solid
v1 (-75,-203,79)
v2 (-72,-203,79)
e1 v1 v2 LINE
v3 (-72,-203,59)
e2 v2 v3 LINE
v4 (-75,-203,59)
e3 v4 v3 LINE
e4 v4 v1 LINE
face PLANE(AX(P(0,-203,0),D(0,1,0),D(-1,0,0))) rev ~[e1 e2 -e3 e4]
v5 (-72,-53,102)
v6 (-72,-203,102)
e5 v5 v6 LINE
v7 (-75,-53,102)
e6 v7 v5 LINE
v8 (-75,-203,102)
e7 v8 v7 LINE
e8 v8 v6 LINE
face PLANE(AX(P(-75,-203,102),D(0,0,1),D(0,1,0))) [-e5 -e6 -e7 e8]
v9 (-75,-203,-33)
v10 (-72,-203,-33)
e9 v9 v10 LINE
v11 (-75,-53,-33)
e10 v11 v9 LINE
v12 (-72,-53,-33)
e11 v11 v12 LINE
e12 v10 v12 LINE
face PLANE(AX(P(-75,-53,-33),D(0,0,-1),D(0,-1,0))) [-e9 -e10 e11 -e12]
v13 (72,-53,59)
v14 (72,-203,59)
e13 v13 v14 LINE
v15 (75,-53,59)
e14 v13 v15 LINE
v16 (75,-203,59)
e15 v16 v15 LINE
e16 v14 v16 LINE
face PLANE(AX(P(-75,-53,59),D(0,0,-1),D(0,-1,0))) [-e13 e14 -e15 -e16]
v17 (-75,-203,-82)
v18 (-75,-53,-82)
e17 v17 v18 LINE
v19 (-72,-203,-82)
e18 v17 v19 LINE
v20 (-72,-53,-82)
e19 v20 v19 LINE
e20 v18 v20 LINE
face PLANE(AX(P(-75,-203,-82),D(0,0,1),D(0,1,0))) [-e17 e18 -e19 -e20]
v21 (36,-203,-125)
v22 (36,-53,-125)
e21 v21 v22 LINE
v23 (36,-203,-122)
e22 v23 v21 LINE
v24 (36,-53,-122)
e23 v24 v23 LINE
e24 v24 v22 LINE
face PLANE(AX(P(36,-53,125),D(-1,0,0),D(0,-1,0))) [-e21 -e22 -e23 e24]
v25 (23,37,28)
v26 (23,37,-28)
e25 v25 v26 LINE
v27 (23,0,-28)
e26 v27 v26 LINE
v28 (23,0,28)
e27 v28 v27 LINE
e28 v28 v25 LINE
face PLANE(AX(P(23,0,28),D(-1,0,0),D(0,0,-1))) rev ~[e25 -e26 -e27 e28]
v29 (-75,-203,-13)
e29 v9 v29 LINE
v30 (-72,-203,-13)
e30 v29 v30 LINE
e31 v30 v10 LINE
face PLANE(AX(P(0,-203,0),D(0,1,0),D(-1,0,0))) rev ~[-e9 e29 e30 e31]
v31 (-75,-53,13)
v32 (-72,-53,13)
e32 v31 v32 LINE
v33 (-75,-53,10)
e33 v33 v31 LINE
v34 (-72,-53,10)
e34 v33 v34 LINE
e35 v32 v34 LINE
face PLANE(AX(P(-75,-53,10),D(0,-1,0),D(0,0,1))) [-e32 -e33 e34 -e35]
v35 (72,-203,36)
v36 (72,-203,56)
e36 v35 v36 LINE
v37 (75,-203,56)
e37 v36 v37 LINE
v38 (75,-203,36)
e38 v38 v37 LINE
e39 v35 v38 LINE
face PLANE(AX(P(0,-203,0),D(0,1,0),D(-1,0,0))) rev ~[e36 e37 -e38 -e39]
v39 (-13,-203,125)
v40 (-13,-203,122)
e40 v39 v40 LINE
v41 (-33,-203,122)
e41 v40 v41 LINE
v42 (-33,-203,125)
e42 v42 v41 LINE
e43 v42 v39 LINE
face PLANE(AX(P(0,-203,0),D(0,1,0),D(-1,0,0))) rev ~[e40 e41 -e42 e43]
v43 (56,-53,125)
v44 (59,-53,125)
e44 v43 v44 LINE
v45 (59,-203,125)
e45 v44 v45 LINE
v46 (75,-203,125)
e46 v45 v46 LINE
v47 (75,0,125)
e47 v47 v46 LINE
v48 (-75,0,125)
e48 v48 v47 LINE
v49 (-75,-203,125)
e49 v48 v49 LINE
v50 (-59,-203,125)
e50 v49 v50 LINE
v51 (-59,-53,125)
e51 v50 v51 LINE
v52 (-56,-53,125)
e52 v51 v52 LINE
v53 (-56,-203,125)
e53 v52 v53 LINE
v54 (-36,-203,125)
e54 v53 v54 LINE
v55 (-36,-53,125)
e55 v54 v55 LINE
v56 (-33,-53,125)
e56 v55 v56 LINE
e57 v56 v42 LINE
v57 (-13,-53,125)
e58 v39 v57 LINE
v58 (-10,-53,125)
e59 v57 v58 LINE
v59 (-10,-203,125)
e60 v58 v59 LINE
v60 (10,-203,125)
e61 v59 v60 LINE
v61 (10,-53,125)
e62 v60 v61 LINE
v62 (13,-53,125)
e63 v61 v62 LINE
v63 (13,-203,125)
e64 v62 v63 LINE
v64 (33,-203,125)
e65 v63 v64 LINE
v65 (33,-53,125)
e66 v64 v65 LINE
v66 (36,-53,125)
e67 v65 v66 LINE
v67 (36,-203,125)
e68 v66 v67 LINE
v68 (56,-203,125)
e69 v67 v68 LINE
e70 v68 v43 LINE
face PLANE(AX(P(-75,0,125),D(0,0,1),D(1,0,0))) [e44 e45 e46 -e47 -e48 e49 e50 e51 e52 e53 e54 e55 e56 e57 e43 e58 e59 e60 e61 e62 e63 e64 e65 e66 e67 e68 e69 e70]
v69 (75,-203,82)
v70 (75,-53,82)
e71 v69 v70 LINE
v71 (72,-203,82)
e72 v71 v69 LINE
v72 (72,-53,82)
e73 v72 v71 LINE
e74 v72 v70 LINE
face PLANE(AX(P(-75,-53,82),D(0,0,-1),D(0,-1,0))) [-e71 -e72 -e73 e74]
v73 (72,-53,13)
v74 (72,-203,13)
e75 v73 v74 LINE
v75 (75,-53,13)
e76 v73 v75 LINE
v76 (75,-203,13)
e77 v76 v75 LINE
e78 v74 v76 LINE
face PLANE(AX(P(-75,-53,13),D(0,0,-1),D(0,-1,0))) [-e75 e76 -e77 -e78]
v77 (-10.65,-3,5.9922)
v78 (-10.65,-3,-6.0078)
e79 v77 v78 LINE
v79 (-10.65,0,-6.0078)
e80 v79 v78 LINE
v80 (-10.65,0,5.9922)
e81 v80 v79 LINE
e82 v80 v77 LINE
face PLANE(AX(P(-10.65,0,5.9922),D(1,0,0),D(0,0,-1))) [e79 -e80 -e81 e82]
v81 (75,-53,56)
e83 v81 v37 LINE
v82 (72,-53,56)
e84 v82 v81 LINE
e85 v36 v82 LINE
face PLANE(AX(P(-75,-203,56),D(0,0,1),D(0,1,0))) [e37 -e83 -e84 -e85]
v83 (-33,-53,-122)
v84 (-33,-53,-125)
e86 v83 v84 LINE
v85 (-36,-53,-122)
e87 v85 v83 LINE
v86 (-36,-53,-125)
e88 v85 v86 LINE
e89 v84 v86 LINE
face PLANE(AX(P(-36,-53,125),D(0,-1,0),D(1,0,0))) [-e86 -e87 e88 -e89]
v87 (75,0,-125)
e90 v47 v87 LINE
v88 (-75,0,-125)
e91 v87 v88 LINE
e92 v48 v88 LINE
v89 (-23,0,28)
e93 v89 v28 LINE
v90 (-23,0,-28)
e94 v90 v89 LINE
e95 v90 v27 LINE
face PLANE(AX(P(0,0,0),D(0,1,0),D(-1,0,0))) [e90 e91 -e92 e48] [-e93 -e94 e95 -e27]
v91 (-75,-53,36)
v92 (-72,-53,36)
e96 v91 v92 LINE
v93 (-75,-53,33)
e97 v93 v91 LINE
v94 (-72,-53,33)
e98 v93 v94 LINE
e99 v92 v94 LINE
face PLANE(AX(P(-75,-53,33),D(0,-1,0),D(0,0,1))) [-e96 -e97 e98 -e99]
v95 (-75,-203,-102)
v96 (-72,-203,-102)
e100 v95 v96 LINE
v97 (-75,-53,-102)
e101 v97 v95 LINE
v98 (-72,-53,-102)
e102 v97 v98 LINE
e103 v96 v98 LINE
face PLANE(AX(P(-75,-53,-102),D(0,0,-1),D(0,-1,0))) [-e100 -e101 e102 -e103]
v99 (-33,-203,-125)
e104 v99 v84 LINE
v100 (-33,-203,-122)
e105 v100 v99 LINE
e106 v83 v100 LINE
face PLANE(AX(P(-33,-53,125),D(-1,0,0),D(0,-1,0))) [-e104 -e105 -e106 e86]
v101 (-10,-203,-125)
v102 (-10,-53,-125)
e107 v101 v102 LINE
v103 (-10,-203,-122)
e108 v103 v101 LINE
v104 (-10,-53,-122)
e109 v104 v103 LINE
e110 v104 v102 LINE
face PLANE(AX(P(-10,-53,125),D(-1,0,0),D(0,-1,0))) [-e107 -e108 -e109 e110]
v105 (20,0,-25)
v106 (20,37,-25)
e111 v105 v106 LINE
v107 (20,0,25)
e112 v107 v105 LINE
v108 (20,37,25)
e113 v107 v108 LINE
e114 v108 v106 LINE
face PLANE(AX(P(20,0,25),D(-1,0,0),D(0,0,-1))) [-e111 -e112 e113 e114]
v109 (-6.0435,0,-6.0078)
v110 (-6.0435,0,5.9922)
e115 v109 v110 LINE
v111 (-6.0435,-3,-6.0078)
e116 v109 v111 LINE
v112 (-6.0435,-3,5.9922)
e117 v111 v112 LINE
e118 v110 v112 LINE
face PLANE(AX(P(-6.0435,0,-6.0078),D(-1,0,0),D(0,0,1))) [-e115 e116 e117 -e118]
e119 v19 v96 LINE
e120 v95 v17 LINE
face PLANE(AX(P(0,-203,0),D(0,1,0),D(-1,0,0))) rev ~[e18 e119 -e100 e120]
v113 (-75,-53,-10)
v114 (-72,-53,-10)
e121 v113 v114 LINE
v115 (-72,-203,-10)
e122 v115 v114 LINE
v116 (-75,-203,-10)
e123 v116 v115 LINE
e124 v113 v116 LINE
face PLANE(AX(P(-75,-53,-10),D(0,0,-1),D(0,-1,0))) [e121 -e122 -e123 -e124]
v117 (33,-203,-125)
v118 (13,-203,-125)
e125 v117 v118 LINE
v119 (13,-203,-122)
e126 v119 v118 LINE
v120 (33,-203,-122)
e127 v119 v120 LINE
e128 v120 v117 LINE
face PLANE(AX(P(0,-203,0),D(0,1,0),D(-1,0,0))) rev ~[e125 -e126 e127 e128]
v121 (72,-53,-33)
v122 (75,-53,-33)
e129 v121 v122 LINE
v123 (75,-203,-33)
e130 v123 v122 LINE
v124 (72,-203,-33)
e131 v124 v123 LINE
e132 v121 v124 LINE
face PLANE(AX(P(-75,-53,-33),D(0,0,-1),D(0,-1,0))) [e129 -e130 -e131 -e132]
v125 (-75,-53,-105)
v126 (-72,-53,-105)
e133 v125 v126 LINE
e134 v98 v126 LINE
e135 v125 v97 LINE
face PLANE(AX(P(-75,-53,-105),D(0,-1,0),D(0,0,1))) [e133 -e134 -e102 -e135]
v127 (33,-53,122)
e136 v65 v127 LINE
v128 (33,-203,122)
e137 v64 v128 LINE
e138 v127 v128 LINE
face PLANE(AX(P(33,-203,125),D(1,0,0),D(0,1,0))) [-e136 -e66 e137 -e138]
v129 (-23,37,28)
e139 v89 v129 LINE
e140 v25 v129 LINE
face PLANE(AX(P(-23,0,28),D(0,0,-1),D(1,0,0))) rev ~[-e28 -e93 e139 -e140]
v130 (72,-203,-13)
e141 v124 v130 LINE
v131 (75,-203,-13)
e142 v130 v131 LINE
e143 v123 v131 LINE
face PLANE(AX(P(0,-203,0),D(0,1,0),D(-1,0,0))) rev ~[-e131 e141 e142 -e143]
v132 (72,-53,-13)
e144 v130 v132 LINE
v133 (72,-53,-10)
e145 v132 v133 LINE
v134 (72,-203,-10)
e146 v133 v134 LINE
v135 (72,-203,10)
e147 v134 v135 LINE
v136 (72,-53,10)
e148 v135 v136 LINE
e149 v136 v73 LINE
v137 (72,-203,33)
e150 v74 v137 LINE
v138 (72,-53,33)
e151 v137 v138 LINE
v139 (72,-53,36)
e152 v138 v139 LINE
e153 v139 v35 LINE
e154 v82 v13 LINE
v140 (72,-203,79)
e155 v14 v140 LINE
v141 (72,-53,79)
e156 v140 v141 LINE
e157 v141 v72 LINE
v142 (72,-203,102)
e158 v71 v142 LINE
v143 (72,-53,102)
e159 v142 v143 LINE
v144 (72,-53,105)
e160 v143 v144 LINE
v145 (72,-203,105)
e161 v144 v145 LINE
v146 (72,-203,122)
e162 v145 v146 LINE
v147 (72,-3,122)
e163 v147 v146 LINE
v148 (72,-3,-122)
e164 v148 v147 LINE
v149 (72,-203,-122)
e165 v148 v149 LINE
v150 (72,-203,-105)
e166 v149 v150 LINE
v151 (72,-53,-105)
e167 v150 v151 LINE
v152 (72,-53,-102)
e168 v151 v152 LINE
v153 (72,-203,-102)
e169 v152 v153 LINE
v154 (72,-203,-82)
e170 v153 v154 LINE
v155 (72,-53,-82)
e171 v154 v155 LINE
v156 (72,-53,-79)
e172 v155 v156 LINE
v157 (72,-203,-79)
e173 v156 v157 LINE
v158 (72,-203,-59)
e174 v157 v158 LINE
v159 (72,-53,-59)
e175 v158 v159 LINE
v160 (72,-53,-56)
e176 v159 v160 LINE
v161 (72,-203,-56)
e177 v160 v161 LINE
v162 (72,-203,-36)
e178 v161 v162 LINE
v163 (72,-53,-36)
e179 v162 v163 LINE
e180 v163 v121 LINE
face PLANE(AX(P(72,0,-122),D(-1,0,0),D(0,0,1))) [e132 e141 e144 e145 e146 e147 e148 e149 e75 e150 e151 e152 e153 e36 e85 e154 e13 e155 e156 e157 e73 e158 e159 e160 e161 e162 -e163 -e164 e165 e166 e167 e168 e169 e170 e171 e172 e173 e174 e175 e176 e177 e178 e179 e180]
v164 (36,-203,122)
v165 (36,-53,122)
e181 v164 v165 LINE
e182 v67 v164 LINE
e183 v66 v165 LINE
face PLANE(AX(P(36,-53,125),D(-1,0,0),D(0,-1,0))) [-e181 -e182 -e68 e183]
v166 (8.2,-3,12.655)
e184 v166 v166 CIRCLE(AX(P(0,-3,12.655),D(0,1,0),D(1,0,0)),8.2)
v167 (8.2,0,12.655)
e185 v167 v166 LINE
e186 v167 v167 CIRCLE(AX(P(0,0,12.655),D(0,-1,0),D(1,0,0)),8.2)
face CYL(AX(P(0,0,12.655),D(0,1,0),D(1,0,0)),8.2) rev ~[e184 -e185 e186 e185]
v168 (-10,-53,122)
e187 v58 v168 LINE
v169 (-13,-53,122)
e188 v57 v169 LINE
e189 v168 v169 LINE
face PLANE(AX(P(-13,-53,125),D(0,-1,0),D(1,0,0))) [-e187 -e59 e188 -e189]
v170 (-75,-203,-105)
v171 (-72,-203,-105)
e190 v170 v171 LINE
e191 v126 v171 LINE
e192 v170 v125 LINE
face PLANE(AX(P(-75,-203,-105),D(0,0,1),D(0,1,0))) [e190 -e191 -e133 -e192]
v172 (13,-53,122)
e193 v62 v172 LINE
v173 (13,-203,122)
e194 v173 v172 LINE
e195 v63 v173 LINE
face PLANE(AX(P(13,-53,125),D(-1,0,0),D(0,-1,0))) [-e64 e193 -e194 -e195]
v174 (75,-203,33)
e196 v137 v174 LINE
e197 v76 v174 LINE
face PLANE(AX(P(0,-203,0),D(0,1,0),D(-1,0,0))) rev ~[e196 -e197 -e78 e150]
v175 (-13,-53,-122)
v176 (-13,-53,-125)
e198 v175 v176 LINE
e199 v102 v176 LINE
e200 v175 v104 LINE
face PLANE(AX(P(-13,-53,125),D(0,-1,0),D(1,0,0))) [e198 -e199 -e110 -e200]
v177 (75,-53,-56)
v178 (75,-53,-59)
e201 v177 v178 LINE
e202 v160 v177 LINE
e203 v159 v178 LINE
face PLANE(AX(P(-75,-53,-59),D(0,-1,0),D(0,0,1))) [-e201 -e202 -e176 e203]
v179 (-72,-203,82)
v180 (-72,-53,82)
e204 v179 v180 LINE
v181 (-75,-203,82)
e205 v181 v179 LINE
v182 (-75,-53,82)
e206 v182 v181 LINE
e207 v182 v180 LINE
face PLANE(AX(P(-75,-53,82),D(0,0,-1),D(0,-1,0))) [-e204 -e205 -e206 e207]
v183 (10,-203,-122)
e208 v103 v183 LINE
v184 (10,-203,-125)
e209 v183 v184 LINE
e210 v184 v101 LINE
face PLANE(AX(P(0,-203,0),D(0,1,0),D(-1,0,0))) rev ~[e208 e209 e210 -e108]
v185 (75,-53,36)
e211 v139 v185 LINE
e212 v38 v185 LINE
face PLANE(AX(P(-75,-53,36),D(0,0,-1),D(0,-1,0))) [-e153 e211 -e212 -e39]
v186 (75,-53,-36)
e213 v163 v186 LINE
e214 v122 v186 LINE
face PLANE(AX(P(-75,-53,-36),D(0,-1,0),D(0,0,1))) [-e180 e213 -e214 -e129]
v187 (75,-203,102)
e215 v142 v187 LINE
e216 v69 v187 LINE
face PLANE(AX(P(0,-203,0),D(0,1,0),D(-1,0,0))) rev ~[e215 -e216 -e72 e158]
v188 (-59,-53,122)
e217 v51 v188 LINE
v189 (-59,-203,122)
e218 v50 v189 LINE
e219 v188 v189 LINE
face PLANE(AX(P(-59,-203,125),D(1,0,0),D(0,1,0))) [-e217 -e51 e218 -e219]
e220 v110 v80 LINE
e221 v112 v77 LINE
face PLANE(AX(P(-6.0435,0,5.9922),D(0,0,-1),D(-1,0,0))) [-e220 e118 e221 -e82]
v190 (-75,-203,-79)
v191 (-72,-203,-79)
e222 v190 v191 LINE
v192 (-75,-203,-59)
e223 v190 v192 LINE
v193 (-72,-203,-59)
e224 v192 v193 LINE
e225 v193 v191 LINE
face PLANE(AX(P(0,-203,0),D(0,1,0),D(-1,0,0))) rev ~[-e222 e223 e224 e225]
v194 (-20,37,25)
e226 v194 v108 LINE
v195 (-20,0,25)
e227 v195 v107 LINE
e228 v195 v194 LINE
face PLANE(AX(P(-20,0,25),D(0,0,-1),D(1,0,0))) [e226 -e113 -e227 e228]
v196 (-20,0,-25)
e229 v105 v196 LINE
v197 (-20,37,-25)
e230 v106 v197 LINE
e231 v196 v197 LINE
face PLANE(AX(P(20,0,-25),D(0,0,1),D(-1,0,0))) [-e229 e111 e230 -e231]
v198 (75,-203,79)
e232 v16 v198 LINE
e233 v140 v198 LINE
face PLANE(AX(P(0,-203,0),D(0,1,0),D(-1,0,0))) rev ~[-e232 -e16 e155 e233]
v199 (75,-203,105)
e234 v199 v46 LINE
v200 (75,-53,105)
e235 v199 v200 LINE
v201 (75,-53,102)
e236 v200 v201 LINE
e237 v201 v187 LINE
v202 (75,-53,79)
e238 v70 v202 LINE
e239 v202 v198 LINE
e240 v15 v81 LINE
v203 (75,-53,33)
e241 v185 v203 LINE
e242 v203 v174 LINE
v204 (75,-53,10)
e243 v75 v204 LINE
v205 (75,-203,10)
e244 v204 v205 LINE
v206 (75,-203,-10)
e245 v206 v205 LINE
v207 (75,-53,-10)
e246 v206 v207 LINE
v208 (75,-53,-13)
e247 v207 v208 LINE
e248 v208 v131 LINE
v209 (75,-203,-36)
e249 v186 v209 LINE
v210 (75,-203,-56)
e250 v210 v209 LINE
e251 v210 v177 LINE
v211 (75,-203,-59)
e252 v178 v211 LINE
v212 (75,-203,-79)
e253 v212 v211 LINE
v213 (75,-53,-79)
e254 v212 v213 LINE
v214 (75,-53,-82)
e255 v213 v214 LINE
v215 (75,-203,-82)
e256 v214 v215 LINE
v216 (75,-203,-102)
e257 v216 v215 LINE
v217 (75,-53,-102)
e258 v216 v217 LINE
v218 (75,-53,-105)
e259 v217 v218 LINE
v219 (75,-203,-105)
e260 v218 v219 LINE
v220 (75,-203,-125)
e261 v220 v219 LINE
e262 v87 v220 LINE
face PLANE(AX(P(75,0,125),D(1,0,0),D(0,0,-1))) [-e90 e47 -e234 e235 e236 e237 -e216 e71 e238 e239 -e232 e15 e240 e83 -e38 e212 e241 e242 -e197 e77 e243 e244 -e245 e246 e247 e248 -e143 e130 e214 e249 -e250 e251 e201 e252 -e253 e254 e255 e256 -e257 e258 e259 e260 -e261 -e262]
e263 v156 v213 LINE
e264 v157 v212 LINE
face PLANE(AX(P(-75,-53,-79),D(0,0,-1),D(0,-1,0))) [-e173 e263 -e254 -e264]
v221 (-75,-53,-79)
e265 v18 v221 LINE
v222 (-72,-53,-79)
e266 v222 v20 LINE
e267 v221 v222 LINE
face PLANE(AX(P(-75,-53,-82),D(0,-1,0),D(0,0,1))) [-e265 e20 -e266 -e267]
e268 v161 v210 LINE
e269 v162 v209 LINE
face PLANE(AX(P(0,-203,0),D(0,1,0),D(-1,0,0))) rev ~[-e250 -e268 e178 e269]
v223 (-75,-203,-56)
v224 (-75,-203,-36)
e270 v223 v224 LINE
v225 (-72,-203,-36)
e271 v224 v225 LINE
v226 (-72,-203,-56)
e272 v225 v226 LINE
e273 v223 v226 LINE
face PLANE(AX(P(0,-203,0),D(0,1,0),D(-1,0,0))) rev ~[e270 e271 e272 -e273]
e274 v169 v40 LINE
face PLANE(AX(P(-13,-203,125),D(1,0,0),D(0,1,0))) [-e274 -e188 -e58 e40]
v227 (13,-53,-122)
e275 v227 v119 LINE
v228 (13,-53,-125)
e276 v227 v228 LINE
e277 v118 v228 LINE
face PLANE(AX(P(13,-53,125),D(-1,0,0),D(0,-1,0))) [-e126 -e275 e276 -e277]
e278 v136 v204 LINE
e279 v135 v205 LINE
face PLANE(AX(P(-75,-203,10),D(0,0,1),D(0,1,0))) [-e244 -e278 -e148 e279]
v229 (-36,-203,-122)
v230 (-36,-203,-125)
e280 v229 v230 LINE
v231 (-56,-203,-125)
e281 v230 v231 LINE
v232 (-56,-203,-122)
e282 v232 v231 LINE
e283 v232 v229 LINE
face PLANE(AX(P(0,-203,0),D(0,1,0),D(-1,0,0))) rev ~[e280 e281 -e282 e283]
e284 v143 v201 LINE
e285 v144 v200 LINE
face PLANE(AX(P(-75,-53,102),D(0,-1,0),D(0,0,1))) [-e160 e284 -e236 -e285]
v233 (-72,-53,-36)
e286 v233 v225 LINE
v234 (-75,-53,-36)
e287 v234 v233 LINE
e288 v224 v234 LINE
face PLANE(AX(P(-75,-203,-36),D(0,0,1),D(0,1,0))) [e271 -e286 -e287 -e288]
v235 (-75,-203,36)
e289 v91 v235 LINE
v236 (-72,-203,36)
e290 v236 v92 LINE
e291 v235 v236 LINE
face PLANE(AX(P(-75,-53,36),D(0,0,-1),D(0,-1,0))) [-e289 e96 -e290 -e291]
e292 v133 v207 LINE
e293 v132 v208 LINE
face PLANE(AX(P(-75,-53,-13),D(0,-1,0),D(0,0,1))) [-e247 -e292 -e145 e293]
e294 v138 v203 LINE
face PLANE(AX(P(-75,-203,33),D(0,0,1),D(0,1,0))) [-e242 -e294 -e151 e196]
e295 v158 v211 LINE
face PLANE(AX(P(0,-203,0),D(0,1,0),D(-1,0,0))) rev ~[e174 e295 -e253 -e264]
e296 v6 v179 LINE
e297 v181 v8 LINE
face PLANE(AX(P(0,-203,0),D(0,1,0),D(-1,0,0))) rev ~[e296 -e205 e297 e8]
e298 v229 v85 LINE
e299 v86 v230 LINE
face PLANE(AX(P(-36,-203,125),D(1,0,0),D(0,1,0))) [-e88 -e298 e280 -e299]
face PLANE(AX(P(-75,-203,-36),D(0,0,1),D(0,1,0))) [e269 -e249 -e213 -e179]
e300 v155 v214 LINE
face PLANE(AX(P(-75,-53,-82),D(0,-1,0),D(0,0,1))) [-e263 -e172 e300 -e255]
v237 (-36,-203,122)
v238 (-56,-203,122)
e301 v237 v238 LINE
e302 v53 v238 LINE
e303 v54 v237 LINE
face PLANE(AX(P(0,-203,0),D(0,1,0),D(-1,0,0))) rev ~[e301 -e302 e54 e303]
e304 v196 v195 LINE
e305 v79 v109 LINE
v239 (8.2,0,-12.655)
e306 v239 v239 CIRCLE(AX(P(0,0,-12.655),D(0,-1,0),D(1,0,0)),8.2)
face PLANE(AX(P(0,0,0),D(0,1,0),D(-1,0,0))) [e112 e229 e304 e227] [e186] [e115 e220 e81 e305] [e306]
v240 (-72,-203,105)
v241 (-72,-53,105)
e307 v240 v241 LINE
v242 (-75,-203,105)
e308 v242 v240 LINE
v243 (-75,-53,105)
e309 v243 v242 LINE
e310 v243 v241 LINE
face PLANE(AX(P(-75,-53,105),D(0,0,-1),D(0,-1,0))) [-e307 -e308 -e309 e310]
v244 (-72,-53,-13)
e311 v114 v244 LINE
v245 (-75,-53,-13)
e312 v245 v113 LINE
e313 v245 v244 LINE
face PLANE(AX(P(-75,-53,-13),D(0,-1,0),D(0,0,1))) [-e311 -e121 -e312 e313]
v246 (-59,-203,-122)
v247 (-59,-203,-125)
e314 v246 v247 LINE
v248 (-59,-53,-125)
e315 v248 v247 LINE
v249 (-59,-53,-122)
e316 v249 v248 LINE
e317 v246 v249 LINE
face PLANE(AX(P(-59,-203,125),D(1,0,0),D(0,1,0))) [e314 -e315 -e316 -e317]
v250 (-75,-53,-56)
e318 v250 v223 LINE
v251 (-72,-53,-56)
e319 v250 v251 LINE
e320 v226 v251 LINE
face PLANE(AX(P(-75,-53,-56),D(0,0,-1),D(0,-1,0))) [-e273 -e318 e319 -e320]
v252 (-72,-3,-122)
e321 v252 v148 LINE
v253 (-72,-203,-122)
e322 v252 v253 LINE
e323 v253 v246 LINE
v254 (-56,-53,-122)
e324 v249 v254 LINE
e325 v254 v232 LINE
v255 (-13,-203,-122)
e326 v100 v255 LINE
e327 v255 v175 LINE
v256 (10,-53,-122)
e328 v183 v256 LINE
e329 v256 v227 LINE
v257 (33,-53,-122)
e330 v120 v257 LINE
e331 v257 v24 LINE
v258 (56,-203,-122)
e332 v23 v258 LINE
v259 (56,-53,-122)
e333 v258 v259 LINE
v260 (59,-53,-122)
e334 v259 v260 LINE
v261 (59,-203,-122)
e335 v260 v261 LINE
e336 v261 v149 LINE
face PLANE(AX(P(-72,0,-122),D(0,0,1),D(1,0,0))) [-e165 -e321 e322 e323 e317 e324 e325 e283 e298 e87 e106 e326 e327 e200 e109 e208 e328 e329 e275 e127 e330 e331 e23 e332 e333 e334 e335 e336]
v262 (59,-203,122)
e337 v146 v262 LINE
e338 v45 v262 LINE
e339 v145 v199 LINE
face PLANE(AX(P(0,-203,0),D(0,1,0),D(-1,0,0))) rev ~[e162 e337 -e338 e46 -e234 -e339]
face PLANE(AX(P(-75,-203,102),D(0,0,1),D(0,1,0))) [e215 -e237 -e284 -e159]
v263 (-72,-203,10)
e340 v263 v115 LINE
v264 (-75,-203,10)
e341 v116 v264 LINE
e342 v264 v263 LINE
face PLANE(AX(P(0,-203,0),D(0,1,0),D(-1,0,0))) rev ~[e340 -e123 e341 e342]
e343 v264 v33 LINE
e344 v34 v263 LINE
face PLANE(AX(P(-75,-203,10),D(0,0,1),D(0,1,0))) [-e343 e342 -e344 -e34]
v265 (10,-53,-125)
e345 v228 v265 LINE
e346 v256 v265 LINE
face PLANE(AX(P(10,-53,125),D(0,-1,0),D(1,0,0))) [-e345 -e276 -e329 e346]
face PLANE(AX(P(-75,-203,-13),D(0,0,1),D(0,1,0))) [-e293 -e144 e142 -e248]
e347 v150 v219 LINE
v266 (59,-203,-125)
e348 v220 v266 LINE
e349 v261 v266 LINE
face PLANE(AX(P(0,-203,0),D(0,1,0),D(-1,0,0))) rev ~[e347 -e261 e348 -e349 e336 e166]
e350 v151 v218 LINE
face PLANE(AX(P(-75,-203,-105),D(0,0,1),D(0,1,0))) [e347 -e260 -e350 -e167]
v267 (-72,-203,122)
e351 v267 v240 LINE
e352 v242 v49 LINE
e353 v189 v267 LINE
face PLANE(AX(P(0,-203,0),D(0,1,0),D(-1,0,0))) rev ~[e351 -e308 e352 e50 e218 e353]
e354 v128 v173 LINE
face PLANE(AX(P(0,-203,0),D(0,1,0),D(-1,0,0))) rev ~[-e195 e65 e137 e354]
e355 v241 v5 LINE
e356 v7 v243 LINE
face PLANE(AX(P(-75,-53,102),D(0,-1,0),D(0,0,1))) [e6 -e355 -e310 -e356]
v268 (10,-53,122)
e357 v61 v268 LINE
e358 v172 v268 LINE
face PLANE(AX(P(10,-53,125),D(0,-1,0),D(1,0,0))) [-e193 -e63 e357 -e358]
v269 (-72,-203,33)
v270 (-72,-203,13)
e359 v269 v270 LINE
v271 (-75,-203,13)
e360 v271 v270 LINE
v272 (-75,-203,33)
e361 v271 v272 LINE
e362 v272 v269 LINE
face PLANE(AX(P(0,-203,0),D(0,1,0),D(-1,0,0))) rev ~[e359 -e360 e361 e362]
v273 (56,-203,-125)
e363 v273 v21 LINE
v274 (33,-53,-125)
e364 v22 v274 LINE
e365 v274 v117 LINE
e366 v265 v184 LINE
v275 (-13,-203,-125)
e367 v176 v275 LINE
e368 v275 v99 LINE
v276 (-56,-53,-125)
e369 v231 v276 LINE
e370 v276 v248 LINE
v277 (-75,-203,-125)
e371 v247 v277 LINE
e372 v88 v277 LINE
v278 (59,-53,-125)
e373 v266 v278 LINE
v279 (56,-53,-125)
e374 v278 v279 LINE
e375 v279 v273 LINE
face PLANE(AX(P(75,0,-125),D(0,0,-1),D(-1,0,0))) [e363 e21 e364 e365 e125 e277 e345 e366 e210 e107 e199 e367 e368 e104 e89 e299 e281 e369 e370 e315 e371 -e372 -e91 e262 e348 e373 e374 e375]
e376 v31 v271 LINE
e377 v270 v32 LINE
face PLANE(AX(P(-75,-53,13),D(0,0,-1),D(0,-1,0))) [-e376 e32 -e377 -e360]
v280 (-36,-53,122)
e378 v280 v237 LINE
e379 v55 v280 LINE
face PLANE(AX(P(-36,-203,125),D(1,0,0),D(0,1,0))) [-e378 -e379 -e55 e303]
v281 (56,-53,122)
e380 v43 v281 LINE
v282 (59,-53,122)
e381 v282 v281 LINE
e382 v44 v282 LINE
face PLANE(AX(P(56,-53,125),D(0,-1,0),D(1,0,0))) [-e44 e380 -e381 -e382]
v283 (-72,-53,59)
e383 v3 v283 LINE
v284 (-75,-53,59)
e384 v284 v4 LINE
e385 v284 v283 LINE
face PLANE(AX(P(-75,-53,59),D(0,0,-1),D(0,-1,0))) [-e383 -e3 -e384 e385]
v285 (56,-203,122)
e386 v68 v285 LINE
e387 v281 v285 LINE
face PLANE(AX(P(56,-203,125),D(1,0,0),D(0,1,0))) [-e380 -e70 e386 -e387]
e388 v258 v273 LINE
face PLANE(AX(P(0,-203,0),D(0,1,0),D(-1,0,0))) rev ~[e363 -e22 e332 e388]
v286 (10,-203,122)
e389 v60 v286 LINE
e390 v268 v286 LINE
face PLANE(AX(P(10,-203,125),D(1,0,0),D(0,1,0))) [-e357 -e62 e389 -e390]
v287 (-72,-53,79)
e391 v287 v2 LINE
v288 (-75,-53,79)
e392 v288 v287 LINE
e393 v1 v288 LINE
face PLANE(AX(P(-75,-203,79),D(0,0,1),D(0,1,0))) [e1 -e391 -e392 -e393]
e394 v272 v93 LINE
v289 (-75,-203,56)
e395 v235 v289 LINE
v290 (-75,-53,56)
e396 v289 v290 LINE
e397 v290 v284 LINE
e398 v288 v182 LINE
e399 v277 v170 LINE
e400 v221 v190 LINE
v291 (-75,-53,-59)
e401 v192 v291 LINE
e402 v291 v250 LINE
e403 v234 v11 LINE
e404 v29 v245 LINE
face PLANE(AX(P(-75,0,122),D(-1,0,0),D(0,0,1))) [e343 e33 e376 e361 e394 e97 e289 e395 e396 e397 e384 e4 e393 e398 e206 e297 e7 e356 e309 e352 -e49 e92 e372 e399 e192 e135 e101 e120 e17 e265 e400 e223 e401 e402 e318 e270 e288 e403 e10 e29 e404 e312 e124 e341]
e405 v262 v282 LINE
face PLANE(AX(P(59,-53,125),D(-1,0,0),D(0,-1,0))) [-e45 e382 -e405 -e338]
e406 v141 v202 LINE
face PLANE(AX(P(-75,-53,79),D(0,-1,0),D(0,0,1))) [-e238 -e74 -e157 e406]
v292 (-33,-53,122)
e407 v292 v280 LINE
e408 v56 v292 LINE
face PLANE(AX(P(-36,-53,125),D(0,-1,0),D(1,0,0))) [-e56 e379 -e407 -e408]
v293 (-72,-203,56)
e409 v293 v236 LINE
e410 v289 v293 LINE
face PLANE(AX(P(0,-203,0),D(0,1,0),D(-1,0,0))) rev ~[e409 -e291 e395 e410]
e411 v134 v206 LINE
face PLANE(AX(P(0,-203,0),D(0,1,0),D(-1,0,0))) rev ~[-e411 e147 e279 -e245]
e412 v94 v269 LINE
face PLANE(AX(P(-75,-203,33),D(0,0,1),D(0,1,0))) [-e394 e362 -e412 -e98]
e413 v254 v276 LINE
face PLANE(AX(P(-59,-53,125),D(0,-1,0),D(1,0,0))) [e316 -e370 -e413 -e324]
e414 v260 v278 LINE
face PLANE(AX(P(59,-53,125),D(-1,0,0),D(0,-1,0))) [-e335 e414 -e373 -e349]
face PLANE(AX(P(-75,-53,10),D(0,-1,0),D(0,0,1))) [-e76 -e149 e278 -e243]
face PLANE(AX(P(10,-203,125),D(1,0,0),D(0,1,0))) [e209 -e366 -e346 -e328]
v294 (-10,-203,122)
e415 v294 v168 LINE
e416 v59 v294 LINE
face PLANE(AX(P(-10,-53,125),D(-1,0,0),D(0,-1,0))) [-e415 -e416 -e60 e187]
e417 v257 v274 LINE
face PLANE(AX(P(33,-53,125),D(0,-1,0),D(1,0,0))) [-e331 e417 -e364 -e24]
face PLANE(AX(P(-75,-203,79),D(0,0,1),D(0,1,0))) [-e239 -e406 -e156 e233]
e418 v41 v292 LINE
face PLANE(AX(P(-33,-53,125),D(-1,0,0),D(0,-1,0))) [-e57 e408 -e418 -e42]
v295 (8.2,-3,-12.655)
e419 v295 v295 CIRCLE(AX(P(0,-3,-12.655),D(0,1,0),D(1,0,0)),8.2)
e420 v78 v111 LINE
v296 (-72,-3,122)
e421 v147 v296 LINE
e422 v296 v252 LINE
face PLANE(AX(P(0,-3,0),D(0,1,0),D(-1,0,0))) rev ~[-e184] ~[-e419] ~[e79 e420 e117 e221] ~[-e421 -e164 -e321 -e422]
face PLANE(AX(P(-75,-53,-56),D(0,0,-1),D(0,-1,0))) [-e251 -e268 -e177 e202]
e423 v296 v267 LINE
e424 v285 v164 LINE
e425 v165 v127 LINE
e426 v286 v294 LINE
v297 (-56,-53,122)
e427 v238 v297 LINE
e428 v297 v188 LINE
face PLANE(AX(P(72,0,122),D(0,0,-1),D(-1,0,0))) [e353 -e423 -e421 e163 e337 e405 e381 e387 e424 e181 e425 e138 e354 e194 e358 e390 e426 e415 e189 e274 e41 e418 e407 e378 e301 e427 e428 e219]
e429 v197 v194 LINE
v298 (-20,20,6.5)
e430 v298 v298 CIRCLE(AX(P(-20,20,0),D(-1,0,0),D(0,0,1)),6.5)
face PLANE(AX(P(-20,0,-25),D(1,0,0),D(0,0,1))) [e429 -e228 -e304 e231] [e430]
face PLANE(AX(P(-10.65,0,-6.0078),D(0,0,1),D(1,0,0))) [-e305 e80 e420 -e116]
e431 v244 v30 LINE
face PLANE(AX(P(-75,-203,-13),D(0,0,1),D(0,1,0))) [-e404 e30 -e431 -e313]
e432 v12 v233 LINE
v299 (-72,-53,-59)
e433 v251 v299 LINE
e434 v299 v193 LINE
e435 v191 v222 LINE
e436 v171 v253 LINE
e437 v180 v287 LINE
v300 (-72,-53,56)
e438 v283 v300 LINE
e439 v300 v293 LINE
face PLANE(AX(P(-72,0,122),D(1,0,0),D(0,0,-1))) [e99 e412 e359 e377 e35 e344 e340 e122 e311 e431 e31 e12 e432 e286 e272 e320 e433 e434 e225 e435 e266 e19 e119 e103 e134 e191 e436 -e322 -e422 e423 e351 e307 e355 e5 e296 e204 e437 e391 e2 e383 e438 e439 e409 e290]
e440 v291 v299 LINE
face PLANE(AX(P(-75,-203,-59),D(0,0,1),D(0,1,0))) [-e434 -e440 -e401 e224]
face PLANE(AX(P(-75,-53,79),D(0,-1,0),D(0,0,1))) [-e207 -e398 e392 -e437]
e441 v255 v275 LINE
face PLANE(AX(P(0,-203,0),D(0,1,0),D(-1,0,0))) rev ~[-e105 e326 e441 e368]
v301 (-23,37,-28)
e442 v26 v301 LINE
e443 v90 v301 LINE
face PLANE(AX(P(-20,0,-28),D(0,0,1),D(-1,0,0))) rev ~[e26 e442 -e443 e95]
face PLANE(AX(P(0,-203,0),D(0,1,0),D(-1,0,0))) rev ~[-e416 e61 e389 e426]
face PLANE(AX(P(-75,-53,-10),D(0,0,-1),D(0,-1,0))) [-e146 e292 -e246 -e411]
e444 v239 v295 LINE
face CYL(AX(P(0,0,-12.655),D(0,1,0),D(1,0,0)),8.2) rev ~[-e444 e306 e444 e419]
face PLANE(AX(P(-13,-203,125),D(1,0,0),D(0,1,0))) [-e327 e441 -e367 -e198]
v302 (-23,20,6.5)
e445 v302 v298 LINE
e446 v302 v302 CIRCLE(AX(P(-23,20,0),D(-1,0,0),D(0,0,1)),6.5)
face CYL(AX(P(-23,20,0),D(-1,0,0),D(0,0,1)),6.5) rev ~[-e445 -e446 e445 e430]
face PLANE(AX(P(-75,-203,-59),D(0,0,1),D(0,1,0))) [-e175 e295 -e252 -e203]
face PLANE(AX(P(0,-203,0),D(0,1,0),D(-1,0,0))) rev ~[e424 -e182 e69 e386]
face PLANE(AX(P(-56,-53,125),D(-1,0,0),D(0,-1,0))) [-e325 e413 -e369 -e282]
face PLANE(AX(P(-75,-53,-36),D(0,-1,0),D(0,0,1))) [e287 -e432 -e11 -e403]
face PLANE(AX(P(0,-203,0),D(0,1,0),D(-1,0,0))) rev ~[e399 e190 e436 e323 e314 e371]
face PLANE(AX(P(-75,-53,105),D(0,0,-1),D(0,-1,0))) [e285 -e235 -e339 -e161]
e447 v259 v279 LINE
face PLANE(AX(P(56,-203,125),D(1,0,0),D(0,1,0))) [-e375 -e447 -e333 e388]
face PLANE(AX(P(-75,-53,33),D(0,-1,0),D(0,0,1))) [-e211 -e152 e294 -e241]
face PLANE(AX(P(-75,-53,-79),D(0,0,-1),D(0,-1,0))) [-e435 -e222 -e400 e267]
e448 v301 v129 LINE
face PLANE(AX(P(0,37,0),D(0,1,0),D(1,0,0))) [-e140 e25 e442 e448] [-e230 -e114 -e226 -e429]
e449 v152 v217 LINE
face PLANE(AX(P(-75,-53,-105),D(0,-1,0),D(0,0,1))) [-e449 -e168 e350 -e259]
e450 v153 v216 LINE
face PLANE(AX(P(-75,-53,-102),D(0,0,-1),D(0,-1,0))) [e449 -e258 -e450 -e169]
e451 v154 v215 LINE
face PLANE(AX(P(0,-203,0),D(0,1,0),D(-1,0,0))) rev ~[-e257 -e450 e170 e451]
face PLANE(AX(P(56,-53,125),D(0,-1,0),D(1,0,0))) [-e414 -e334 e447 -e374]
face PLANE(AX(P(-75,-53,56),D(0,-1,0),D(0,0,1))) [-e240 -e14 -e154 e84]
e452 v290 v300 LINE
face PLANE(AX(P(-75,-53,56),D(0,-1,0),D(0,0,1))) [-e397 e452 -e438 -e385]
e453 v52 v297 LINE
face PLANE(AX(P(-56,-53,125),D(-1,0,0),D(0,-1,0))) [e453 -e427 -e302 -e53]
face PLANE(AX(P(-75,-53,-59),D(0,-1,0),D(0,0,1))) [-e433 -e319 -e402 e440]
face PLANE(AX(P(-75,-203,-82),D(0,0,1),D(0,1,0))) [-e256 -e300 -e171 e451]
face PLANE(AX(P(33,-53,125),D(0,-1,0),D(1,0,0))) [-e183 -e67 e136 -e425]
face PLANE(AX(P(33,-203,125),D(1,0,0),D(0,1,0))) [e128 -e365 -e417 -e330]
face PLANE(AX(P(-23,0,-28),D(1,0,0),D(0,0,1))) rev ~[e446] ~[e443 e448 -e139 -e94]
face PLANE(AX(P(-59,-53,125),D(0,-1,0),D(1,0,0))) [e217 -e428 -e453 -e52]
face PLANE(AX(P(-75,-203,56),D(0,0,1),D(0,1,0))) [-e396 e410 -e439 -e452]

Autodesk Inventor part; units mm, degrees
sketch "Sketch1" plane through (0, 0, 0) normal (0, 1, 0) x (-1, 0, 0)
  line L0 (75, 125) -> (-75, 125)
  line L1 (75, -122) -> (75, 125)
  line L2 (75, 125) -> (-75, 125)
  line L3 (-75, 125) -> (-75, 122)
  line L4 (-75, 122) -> (75, 122)
  line L5 (75, 122) -> (75, 125)
  line L6 (75, 125) -> (-75, 122) construction
  line L7 (-75, 125) -> (75, 122) construction
  line L8 (75, 122) -> (72, 122)
  line L9 (72, 122) -> (72, -122)
  line L10 (72, -122) -> (75, -122)
  line L11 (75, -122) -> (75, 122)
  line L12 (75, 122) -> (72, -122) construction
  line L13 (72, 122) -> (75, -122) construction
  line L14 (-72, 122) -> (-75, 122)
  line L15 (-75, 122) -> (-75, -122)
  line L16 (-75, -122) -> (-72, -122)
  line L17 (-72, -122) -> (-72, 122)
  line L18 (75, -122) -> (-75, -122)
  line L19 (-75, -122) -> (-75, -125)
  line L20 (-75, -125) -> (75, -125)
  line L21 (75, -125) -> (75, -122)
  point P0 (0, 0)
  point P1 (-75, 0)
  point P2 (0, 123.5)
  point P3 (73.5, 0)
  point P4 (75, 0)
  point P5 (72, 122)
  point P6 (-69, 125)
  point P7 (75, -122)
  point P8 (75, 122)
  point P9 (75, 122)
  point P10 (75, 122)
  dimension "d4" = 150
  dimension "d9" = 244
  dimension "d99" = 150
  dimension "d100" = 3
ref_plane "Work Plane8" through (0, 0, 0) normal (0, 1, 0) x (1, 0, 0)
sketch "Sketch2" plane through (0, 0, 0) normal (0, 1, 0) x (1, 0, 0)
  circle A0 centre (0, -12.655) radius 8.2
  circle A1 centre (0, 12.655) radius 8.2
  line L0 (-6.0435, -5.9922) -> (-10.65, -5.9922)
  line L1 (-10.65, -5.9922) -> (-10.65, 6.0078)
  line L2 (-10.65, 6.0078) -> (-6.0435, 6.0078)
  line L3 (-6.0435, 6.0078) -> (-6.0435, -5.9922)
  line L4 (-6.0435, -5.9922) -> (-10.65, 6.0078) construction
  line L5 (-10.65, -5.9922) -> (-6.0435, 6.0078) construction
  line L6 (0, 12.655) -> (0, -12.655)
  point P0 (0, 0)
  point P1 (0, 0)
  point P2 (-8.3467, 0.0078)
  point P3 (0, 0)
  dimension "d16" = 16.4
  dimension "d17" = 16.4
  dimension "d18" = 25.31
  dimension "d19" = 4.6065
  dimension "d20" = 12
  dimension "d21" = 12.6628
  dimension "d22" = 8.3467
ref_plane "Work Plane2" through (-1.5, -203, 122) normal (1, 0, 0) x (0, 0, -1)
ref_plane "Work Plane3" through (0, -203, 122) normal (1, 0, 0) x (0, 0, -1)
extrude "Extrusion10" add sketch "Sketch1" against normal blind 3 contours L9 L18 L17 L4
extrude "Extrusion11" add sketch "Sketch1" against normal blind 203 contours L1 L4 L3 L0 | L1 L10 L9 L4 | L4 L17 L16 L15 | L21 L20 L19 L16 L18 L10
extrude "Extrusion12" cut sketch "Sketch2" against normal blind 3
ref_plane "Work Plane9" through (0, -203, 122) normal (1, 0, 0) x (0, 0, -1)
sketch "Sketch10" plane through (0, -203, 122) normal (1, 0, 0) x (0, 0, -1)
  line L0 (117.545, 203) -> (117.545, 200) projected
  line L1 (142.855, 200) -> (126.455, 200) projected
  line L2 (117.545, 200) -> (126.455, 200)
  line L3 (117.545, 200) -> (126.455, 200) construction
  line L4 (122, 200.3003) -> (122, 0.3003)
  line L5 (122, 200.3003) -> (322, 200.3003) construction
  line L6 (122, 199.5774) -> (22, 26.3723)
  line L7 (122, 199.5774) -> (322, 199.5774) construction
  line L8 (122, 200.3003) -> (222, 27.0952)
  line L9 (122, 200.3003) -> (322, 200.3003) construction
  point P0 (122, 203)
  dimension "d110" = 0
  dimension "d111" = 200
  dimension "d112" = 90
  dimension "d113" = 200
  dimension "d114" = 120
  dimension "d115" = 200
  dimension "d116" = 60
sketch "Sketch12" plane through (-75, 0, 125) normal (0, 0, 1) x (1, 0, 0)
  line L0 (16, -53) -> (19, -53)
  line L1 (19, -53) -> (19, -203)
  line L2 (19, -203) -> (16, -203)
  line L3 (16, -203) -> (16, -53)
  line L4 (16, -53) -> (19, -203) construction
  line L5 (19, -53) -> (16, -203) construction
  line L6 (150, -203) -> (0, -203) projected
  line L7 (0, 0) -> (0, -203) projected
  line L8 (39, -53) -> (42, -53)
  line L9 (39, -203) -> (39, -53)
  line L10 (39, -53) -> (42, -203) construction
  line L11 (42, -53) -> (39, -203) construction
  line L12 (42, -53) -> (42, -203)
  line L13 (42, -203) -> (39, -203)
  line L14 (62, -53) -> (65, -53)
  line L15 (62, -203) -> (62, -53)
  line L16 (62, -53) -> (65, -203) construction
  line L17 (65, -53) -> (62, -203) construction
  line L18 (65, -53) -> (65, -203)
  line L19 (65, -203) -> (62, -203)
  line L20 (85, -53) -> (88, -53)
  line L21 (85, -203) -> (85, -53)
  line L22 (85, -53) -> (88, -203) construction
  line L23 (88, -53) -> (85, -203) construction
  line L24 (88, -53) -> (88, -203)
  line L25 (88, -203) -> (85, -203)
  line L26 (108, -53) -> (111, -53)
  line L27 (108, -203) -> (108, -53)
  line L28 (108, -53) -> (111, -203) construction
  line L29 (111, -53) -> (108, -203) construction
  line L30 (111, -53) -> (111, -203)
  line L31 (111, -203) -> (108, -203)
  line L32 (131, -53) -> (134, -53)
  line L33 (131, -203) -> (131, -53)
  line L34 (131, -53) -> (134, -203) construction
  line L35 (134, -53) -> (131, -203) construction
  line L36 (134, -53) -> (134, -203)
  line L37 (134, -203) -> (131, -203)
  point P0 (75, 0)
  point P1 (17.5, -128)
  point P2 (17.5, -203)
  point P3 (40.5, -128)
  point P4 (40.5, -203)
  point P5 (63.5, -128)
  point P6 (63.5, -203)
  point P7 (86.5, -128)
  point P8 (86.5, -203)
  point P9 (109.5, -128)
  point P10 (109.5, -203)
  point P11 (132.5, -128)
  point P12 (132.5, -203)
  dimension "d119" = 3
  dimension "d120" = 150
  dimension "d121" = 16
  dimension "d124" = 23
extrude "Extrusion13" cut sketch "Sketch12" against normal blind 300
sketch "Sketch13" plane through (-75, 0, -125) normal (-1, 0, 0) x (0, 0, 1)
  line L0 (20, -53) -> (23, -53)
  line L1 (23, -53) -> (23, -203)
  line L2 (23, -203) -> (20, -203)
  line L3 (20, -203) -> (20, -53)
  line L4 (20, -53) -> (23, -203) construction
  line L5 (23, -53) -> (20, -203) construction
  line L6 (250, -203) -> (0, -203) projected
  line L7 (0, 0) -> (0, -203) projected
  line L8 (43, -53) -> (46, -53)
  line L9 (46, -53) -> (46, -203)
  line L10 (43, -203) -> (43, -53)
  line L11 (43, -53) -> (46, -203) construction
  line L12 (46, -53) -> (43, -203) construction
  line L13 (46, -203) -> (43, -203)
  line L14 (66, -53) -> (69, -53)
  line L15 (69, -53) -> (69, -203)
  line L16 (66, -203) -> (66, -53)
  line L17 (66, -53) -> (69, -203) construction
  line L18 (69, -53) -> (66, -203) construction
  line L19 (69, -203) -> (66, -203)
  line L20 (89, -53) -> (92, -53)
  line L21 (92, -53) -> (92, -203)
  line L22 (89, -203) -> (89, -53)
  line L23 (89, -53) -> (92, -203) construction
  line L24 (92, -53) -> (89, -203) construction
  line L25 (92, -203) -> (89, -203)
  line L26 (112, -53) -> (115, -53)
  line L27 (115, -53) -> (115, -203)
  line L28 (112, -203) -> (112, -53)
  line L29 (112, -53) -> (115, -203) construction
  line L30 (115, -53) -> (112, -203) construction
  line L31 (115, -203) -> (112, -203)
  line L32 (135, -53) -> (138, -53)
  line L33 (138, -53) -> (138, -203)
  line L34 (135, -203) -> (135, -53)
  line L35 (135, -53) -> (138, -203) construction
  line L36 (138, -53) -> (135, -203) construction
  line L37 (138, -203) -> (135, -203)
  line L38 (158, -53) -> (161, -53)
  line L39 (161, -53) -> (161, -203)
  line L40 (158, -203) -> (158, -53)
  line L41 (158, -53) -> (161, -203) construction
  line L42 (161, -53) -> (158, -203) construction
  line L43 (161, -203) -> (158, -203)
  line L44 (181, -53) -> (184, -53)
  line L45 (184, -53) -> (184, -203)
  line L46 (181, -203) -> (181, -53)
  line L47 (181, -53) -> (184, -203) construction
  line L48 (184, -53) -> (181, -203) construction
  line L49 (184, -203) -> (181, -203)
  line L50 (204, -53) -> (207, -53)
  line L51 (207, -53) -> (207, -203)
  line L52 (204, -203) -> (204, -53)
  line L53 (204, -53) -> (207, -203) construction
  line L54 (207, -53) -> (204, -203) construction
  line L55 (207, -203) -> (204, -203)
  line L56 (227, -53) -> (230, -53)
  line L57 (230, -53) -> (230, -203)
  line L58 (227, -203) -> (227, -53)
  line L59 (227, -53) -> (230, -203) construction
  line L60 (230, -53) -> (227, -203) construction
  line L61 (230, -203) -> (227, -203)
  point P0 (125, 0)
  point P1 (21.5, -128)
  point P2 (21.5, -203)
  point P3 (44.5, -128)
  point P4 (44.5, -203)
  point P5 (67.5, -128)
  point P6 (67.5, -203)
  point P7 (90.5, -128)
  point P8 (90.5, -203)
  point P9 (113.5, -128)
  point P10 (113.5, -203)
  point P11 (136.5, -128)
  point P12 (136.5, -203)
  point P13 (159.5, -128)
  point P14 (159.5, -203)
  point P15 (182.5, -128)
  point P16 (182.5, -203)
  point P17 (205.5, -128)
  point P18 (205.5, -203)
  point P19 (228.5, -128)
  point P20 (228.5, -203)
  dimension "d131" = 3
  dimension "d132" = 150
  dimension "d133" = 20
  dimension "d136" = 23
extrude "Extrusion14" cut sketch "Sketch13" against normal blind 200
sketch "Sketch14" plane through (0, 0, 0) normal (0, 1, 0) x (1, 0, 0)
  line L0 (-20, -25) -> (20, -25)
  line L1 (20, -28) -> (20, 28)
  line L2 (20, 25) -> (-20, 25)
  line L3 (-20, 28) -> (-20, -28)
  line L4 (-23, -28) -> (23, -28)
  line L5 (23, -28) -> (23, 28)
  line L6 (23, 28) -> (-23, 28)
  line L7 (-23, 28) -> (-23, -28)
  point P0 (0, 0)
extrude "Extrusion15" add sketch "Sketch14" along normal blind 37 contours L3 L4 L7 L6 | L0 L1 L4 L3 | L1 L6 L5 L4 | L3 L6 L1 L2
sketch "Sketch16" plane through (-23, 0, -28) normal (-1, 0, 0) x (0, 0, 1)
  circle A0 centre (28, 20) radius 6.5
  point P0 (28, 0)
  dimension "d153" = 13
extrude "Extrusion17" cut sketch "Sketch16" against normal blind 10
properties part number "Ammonia Filter Sensor Holder"
